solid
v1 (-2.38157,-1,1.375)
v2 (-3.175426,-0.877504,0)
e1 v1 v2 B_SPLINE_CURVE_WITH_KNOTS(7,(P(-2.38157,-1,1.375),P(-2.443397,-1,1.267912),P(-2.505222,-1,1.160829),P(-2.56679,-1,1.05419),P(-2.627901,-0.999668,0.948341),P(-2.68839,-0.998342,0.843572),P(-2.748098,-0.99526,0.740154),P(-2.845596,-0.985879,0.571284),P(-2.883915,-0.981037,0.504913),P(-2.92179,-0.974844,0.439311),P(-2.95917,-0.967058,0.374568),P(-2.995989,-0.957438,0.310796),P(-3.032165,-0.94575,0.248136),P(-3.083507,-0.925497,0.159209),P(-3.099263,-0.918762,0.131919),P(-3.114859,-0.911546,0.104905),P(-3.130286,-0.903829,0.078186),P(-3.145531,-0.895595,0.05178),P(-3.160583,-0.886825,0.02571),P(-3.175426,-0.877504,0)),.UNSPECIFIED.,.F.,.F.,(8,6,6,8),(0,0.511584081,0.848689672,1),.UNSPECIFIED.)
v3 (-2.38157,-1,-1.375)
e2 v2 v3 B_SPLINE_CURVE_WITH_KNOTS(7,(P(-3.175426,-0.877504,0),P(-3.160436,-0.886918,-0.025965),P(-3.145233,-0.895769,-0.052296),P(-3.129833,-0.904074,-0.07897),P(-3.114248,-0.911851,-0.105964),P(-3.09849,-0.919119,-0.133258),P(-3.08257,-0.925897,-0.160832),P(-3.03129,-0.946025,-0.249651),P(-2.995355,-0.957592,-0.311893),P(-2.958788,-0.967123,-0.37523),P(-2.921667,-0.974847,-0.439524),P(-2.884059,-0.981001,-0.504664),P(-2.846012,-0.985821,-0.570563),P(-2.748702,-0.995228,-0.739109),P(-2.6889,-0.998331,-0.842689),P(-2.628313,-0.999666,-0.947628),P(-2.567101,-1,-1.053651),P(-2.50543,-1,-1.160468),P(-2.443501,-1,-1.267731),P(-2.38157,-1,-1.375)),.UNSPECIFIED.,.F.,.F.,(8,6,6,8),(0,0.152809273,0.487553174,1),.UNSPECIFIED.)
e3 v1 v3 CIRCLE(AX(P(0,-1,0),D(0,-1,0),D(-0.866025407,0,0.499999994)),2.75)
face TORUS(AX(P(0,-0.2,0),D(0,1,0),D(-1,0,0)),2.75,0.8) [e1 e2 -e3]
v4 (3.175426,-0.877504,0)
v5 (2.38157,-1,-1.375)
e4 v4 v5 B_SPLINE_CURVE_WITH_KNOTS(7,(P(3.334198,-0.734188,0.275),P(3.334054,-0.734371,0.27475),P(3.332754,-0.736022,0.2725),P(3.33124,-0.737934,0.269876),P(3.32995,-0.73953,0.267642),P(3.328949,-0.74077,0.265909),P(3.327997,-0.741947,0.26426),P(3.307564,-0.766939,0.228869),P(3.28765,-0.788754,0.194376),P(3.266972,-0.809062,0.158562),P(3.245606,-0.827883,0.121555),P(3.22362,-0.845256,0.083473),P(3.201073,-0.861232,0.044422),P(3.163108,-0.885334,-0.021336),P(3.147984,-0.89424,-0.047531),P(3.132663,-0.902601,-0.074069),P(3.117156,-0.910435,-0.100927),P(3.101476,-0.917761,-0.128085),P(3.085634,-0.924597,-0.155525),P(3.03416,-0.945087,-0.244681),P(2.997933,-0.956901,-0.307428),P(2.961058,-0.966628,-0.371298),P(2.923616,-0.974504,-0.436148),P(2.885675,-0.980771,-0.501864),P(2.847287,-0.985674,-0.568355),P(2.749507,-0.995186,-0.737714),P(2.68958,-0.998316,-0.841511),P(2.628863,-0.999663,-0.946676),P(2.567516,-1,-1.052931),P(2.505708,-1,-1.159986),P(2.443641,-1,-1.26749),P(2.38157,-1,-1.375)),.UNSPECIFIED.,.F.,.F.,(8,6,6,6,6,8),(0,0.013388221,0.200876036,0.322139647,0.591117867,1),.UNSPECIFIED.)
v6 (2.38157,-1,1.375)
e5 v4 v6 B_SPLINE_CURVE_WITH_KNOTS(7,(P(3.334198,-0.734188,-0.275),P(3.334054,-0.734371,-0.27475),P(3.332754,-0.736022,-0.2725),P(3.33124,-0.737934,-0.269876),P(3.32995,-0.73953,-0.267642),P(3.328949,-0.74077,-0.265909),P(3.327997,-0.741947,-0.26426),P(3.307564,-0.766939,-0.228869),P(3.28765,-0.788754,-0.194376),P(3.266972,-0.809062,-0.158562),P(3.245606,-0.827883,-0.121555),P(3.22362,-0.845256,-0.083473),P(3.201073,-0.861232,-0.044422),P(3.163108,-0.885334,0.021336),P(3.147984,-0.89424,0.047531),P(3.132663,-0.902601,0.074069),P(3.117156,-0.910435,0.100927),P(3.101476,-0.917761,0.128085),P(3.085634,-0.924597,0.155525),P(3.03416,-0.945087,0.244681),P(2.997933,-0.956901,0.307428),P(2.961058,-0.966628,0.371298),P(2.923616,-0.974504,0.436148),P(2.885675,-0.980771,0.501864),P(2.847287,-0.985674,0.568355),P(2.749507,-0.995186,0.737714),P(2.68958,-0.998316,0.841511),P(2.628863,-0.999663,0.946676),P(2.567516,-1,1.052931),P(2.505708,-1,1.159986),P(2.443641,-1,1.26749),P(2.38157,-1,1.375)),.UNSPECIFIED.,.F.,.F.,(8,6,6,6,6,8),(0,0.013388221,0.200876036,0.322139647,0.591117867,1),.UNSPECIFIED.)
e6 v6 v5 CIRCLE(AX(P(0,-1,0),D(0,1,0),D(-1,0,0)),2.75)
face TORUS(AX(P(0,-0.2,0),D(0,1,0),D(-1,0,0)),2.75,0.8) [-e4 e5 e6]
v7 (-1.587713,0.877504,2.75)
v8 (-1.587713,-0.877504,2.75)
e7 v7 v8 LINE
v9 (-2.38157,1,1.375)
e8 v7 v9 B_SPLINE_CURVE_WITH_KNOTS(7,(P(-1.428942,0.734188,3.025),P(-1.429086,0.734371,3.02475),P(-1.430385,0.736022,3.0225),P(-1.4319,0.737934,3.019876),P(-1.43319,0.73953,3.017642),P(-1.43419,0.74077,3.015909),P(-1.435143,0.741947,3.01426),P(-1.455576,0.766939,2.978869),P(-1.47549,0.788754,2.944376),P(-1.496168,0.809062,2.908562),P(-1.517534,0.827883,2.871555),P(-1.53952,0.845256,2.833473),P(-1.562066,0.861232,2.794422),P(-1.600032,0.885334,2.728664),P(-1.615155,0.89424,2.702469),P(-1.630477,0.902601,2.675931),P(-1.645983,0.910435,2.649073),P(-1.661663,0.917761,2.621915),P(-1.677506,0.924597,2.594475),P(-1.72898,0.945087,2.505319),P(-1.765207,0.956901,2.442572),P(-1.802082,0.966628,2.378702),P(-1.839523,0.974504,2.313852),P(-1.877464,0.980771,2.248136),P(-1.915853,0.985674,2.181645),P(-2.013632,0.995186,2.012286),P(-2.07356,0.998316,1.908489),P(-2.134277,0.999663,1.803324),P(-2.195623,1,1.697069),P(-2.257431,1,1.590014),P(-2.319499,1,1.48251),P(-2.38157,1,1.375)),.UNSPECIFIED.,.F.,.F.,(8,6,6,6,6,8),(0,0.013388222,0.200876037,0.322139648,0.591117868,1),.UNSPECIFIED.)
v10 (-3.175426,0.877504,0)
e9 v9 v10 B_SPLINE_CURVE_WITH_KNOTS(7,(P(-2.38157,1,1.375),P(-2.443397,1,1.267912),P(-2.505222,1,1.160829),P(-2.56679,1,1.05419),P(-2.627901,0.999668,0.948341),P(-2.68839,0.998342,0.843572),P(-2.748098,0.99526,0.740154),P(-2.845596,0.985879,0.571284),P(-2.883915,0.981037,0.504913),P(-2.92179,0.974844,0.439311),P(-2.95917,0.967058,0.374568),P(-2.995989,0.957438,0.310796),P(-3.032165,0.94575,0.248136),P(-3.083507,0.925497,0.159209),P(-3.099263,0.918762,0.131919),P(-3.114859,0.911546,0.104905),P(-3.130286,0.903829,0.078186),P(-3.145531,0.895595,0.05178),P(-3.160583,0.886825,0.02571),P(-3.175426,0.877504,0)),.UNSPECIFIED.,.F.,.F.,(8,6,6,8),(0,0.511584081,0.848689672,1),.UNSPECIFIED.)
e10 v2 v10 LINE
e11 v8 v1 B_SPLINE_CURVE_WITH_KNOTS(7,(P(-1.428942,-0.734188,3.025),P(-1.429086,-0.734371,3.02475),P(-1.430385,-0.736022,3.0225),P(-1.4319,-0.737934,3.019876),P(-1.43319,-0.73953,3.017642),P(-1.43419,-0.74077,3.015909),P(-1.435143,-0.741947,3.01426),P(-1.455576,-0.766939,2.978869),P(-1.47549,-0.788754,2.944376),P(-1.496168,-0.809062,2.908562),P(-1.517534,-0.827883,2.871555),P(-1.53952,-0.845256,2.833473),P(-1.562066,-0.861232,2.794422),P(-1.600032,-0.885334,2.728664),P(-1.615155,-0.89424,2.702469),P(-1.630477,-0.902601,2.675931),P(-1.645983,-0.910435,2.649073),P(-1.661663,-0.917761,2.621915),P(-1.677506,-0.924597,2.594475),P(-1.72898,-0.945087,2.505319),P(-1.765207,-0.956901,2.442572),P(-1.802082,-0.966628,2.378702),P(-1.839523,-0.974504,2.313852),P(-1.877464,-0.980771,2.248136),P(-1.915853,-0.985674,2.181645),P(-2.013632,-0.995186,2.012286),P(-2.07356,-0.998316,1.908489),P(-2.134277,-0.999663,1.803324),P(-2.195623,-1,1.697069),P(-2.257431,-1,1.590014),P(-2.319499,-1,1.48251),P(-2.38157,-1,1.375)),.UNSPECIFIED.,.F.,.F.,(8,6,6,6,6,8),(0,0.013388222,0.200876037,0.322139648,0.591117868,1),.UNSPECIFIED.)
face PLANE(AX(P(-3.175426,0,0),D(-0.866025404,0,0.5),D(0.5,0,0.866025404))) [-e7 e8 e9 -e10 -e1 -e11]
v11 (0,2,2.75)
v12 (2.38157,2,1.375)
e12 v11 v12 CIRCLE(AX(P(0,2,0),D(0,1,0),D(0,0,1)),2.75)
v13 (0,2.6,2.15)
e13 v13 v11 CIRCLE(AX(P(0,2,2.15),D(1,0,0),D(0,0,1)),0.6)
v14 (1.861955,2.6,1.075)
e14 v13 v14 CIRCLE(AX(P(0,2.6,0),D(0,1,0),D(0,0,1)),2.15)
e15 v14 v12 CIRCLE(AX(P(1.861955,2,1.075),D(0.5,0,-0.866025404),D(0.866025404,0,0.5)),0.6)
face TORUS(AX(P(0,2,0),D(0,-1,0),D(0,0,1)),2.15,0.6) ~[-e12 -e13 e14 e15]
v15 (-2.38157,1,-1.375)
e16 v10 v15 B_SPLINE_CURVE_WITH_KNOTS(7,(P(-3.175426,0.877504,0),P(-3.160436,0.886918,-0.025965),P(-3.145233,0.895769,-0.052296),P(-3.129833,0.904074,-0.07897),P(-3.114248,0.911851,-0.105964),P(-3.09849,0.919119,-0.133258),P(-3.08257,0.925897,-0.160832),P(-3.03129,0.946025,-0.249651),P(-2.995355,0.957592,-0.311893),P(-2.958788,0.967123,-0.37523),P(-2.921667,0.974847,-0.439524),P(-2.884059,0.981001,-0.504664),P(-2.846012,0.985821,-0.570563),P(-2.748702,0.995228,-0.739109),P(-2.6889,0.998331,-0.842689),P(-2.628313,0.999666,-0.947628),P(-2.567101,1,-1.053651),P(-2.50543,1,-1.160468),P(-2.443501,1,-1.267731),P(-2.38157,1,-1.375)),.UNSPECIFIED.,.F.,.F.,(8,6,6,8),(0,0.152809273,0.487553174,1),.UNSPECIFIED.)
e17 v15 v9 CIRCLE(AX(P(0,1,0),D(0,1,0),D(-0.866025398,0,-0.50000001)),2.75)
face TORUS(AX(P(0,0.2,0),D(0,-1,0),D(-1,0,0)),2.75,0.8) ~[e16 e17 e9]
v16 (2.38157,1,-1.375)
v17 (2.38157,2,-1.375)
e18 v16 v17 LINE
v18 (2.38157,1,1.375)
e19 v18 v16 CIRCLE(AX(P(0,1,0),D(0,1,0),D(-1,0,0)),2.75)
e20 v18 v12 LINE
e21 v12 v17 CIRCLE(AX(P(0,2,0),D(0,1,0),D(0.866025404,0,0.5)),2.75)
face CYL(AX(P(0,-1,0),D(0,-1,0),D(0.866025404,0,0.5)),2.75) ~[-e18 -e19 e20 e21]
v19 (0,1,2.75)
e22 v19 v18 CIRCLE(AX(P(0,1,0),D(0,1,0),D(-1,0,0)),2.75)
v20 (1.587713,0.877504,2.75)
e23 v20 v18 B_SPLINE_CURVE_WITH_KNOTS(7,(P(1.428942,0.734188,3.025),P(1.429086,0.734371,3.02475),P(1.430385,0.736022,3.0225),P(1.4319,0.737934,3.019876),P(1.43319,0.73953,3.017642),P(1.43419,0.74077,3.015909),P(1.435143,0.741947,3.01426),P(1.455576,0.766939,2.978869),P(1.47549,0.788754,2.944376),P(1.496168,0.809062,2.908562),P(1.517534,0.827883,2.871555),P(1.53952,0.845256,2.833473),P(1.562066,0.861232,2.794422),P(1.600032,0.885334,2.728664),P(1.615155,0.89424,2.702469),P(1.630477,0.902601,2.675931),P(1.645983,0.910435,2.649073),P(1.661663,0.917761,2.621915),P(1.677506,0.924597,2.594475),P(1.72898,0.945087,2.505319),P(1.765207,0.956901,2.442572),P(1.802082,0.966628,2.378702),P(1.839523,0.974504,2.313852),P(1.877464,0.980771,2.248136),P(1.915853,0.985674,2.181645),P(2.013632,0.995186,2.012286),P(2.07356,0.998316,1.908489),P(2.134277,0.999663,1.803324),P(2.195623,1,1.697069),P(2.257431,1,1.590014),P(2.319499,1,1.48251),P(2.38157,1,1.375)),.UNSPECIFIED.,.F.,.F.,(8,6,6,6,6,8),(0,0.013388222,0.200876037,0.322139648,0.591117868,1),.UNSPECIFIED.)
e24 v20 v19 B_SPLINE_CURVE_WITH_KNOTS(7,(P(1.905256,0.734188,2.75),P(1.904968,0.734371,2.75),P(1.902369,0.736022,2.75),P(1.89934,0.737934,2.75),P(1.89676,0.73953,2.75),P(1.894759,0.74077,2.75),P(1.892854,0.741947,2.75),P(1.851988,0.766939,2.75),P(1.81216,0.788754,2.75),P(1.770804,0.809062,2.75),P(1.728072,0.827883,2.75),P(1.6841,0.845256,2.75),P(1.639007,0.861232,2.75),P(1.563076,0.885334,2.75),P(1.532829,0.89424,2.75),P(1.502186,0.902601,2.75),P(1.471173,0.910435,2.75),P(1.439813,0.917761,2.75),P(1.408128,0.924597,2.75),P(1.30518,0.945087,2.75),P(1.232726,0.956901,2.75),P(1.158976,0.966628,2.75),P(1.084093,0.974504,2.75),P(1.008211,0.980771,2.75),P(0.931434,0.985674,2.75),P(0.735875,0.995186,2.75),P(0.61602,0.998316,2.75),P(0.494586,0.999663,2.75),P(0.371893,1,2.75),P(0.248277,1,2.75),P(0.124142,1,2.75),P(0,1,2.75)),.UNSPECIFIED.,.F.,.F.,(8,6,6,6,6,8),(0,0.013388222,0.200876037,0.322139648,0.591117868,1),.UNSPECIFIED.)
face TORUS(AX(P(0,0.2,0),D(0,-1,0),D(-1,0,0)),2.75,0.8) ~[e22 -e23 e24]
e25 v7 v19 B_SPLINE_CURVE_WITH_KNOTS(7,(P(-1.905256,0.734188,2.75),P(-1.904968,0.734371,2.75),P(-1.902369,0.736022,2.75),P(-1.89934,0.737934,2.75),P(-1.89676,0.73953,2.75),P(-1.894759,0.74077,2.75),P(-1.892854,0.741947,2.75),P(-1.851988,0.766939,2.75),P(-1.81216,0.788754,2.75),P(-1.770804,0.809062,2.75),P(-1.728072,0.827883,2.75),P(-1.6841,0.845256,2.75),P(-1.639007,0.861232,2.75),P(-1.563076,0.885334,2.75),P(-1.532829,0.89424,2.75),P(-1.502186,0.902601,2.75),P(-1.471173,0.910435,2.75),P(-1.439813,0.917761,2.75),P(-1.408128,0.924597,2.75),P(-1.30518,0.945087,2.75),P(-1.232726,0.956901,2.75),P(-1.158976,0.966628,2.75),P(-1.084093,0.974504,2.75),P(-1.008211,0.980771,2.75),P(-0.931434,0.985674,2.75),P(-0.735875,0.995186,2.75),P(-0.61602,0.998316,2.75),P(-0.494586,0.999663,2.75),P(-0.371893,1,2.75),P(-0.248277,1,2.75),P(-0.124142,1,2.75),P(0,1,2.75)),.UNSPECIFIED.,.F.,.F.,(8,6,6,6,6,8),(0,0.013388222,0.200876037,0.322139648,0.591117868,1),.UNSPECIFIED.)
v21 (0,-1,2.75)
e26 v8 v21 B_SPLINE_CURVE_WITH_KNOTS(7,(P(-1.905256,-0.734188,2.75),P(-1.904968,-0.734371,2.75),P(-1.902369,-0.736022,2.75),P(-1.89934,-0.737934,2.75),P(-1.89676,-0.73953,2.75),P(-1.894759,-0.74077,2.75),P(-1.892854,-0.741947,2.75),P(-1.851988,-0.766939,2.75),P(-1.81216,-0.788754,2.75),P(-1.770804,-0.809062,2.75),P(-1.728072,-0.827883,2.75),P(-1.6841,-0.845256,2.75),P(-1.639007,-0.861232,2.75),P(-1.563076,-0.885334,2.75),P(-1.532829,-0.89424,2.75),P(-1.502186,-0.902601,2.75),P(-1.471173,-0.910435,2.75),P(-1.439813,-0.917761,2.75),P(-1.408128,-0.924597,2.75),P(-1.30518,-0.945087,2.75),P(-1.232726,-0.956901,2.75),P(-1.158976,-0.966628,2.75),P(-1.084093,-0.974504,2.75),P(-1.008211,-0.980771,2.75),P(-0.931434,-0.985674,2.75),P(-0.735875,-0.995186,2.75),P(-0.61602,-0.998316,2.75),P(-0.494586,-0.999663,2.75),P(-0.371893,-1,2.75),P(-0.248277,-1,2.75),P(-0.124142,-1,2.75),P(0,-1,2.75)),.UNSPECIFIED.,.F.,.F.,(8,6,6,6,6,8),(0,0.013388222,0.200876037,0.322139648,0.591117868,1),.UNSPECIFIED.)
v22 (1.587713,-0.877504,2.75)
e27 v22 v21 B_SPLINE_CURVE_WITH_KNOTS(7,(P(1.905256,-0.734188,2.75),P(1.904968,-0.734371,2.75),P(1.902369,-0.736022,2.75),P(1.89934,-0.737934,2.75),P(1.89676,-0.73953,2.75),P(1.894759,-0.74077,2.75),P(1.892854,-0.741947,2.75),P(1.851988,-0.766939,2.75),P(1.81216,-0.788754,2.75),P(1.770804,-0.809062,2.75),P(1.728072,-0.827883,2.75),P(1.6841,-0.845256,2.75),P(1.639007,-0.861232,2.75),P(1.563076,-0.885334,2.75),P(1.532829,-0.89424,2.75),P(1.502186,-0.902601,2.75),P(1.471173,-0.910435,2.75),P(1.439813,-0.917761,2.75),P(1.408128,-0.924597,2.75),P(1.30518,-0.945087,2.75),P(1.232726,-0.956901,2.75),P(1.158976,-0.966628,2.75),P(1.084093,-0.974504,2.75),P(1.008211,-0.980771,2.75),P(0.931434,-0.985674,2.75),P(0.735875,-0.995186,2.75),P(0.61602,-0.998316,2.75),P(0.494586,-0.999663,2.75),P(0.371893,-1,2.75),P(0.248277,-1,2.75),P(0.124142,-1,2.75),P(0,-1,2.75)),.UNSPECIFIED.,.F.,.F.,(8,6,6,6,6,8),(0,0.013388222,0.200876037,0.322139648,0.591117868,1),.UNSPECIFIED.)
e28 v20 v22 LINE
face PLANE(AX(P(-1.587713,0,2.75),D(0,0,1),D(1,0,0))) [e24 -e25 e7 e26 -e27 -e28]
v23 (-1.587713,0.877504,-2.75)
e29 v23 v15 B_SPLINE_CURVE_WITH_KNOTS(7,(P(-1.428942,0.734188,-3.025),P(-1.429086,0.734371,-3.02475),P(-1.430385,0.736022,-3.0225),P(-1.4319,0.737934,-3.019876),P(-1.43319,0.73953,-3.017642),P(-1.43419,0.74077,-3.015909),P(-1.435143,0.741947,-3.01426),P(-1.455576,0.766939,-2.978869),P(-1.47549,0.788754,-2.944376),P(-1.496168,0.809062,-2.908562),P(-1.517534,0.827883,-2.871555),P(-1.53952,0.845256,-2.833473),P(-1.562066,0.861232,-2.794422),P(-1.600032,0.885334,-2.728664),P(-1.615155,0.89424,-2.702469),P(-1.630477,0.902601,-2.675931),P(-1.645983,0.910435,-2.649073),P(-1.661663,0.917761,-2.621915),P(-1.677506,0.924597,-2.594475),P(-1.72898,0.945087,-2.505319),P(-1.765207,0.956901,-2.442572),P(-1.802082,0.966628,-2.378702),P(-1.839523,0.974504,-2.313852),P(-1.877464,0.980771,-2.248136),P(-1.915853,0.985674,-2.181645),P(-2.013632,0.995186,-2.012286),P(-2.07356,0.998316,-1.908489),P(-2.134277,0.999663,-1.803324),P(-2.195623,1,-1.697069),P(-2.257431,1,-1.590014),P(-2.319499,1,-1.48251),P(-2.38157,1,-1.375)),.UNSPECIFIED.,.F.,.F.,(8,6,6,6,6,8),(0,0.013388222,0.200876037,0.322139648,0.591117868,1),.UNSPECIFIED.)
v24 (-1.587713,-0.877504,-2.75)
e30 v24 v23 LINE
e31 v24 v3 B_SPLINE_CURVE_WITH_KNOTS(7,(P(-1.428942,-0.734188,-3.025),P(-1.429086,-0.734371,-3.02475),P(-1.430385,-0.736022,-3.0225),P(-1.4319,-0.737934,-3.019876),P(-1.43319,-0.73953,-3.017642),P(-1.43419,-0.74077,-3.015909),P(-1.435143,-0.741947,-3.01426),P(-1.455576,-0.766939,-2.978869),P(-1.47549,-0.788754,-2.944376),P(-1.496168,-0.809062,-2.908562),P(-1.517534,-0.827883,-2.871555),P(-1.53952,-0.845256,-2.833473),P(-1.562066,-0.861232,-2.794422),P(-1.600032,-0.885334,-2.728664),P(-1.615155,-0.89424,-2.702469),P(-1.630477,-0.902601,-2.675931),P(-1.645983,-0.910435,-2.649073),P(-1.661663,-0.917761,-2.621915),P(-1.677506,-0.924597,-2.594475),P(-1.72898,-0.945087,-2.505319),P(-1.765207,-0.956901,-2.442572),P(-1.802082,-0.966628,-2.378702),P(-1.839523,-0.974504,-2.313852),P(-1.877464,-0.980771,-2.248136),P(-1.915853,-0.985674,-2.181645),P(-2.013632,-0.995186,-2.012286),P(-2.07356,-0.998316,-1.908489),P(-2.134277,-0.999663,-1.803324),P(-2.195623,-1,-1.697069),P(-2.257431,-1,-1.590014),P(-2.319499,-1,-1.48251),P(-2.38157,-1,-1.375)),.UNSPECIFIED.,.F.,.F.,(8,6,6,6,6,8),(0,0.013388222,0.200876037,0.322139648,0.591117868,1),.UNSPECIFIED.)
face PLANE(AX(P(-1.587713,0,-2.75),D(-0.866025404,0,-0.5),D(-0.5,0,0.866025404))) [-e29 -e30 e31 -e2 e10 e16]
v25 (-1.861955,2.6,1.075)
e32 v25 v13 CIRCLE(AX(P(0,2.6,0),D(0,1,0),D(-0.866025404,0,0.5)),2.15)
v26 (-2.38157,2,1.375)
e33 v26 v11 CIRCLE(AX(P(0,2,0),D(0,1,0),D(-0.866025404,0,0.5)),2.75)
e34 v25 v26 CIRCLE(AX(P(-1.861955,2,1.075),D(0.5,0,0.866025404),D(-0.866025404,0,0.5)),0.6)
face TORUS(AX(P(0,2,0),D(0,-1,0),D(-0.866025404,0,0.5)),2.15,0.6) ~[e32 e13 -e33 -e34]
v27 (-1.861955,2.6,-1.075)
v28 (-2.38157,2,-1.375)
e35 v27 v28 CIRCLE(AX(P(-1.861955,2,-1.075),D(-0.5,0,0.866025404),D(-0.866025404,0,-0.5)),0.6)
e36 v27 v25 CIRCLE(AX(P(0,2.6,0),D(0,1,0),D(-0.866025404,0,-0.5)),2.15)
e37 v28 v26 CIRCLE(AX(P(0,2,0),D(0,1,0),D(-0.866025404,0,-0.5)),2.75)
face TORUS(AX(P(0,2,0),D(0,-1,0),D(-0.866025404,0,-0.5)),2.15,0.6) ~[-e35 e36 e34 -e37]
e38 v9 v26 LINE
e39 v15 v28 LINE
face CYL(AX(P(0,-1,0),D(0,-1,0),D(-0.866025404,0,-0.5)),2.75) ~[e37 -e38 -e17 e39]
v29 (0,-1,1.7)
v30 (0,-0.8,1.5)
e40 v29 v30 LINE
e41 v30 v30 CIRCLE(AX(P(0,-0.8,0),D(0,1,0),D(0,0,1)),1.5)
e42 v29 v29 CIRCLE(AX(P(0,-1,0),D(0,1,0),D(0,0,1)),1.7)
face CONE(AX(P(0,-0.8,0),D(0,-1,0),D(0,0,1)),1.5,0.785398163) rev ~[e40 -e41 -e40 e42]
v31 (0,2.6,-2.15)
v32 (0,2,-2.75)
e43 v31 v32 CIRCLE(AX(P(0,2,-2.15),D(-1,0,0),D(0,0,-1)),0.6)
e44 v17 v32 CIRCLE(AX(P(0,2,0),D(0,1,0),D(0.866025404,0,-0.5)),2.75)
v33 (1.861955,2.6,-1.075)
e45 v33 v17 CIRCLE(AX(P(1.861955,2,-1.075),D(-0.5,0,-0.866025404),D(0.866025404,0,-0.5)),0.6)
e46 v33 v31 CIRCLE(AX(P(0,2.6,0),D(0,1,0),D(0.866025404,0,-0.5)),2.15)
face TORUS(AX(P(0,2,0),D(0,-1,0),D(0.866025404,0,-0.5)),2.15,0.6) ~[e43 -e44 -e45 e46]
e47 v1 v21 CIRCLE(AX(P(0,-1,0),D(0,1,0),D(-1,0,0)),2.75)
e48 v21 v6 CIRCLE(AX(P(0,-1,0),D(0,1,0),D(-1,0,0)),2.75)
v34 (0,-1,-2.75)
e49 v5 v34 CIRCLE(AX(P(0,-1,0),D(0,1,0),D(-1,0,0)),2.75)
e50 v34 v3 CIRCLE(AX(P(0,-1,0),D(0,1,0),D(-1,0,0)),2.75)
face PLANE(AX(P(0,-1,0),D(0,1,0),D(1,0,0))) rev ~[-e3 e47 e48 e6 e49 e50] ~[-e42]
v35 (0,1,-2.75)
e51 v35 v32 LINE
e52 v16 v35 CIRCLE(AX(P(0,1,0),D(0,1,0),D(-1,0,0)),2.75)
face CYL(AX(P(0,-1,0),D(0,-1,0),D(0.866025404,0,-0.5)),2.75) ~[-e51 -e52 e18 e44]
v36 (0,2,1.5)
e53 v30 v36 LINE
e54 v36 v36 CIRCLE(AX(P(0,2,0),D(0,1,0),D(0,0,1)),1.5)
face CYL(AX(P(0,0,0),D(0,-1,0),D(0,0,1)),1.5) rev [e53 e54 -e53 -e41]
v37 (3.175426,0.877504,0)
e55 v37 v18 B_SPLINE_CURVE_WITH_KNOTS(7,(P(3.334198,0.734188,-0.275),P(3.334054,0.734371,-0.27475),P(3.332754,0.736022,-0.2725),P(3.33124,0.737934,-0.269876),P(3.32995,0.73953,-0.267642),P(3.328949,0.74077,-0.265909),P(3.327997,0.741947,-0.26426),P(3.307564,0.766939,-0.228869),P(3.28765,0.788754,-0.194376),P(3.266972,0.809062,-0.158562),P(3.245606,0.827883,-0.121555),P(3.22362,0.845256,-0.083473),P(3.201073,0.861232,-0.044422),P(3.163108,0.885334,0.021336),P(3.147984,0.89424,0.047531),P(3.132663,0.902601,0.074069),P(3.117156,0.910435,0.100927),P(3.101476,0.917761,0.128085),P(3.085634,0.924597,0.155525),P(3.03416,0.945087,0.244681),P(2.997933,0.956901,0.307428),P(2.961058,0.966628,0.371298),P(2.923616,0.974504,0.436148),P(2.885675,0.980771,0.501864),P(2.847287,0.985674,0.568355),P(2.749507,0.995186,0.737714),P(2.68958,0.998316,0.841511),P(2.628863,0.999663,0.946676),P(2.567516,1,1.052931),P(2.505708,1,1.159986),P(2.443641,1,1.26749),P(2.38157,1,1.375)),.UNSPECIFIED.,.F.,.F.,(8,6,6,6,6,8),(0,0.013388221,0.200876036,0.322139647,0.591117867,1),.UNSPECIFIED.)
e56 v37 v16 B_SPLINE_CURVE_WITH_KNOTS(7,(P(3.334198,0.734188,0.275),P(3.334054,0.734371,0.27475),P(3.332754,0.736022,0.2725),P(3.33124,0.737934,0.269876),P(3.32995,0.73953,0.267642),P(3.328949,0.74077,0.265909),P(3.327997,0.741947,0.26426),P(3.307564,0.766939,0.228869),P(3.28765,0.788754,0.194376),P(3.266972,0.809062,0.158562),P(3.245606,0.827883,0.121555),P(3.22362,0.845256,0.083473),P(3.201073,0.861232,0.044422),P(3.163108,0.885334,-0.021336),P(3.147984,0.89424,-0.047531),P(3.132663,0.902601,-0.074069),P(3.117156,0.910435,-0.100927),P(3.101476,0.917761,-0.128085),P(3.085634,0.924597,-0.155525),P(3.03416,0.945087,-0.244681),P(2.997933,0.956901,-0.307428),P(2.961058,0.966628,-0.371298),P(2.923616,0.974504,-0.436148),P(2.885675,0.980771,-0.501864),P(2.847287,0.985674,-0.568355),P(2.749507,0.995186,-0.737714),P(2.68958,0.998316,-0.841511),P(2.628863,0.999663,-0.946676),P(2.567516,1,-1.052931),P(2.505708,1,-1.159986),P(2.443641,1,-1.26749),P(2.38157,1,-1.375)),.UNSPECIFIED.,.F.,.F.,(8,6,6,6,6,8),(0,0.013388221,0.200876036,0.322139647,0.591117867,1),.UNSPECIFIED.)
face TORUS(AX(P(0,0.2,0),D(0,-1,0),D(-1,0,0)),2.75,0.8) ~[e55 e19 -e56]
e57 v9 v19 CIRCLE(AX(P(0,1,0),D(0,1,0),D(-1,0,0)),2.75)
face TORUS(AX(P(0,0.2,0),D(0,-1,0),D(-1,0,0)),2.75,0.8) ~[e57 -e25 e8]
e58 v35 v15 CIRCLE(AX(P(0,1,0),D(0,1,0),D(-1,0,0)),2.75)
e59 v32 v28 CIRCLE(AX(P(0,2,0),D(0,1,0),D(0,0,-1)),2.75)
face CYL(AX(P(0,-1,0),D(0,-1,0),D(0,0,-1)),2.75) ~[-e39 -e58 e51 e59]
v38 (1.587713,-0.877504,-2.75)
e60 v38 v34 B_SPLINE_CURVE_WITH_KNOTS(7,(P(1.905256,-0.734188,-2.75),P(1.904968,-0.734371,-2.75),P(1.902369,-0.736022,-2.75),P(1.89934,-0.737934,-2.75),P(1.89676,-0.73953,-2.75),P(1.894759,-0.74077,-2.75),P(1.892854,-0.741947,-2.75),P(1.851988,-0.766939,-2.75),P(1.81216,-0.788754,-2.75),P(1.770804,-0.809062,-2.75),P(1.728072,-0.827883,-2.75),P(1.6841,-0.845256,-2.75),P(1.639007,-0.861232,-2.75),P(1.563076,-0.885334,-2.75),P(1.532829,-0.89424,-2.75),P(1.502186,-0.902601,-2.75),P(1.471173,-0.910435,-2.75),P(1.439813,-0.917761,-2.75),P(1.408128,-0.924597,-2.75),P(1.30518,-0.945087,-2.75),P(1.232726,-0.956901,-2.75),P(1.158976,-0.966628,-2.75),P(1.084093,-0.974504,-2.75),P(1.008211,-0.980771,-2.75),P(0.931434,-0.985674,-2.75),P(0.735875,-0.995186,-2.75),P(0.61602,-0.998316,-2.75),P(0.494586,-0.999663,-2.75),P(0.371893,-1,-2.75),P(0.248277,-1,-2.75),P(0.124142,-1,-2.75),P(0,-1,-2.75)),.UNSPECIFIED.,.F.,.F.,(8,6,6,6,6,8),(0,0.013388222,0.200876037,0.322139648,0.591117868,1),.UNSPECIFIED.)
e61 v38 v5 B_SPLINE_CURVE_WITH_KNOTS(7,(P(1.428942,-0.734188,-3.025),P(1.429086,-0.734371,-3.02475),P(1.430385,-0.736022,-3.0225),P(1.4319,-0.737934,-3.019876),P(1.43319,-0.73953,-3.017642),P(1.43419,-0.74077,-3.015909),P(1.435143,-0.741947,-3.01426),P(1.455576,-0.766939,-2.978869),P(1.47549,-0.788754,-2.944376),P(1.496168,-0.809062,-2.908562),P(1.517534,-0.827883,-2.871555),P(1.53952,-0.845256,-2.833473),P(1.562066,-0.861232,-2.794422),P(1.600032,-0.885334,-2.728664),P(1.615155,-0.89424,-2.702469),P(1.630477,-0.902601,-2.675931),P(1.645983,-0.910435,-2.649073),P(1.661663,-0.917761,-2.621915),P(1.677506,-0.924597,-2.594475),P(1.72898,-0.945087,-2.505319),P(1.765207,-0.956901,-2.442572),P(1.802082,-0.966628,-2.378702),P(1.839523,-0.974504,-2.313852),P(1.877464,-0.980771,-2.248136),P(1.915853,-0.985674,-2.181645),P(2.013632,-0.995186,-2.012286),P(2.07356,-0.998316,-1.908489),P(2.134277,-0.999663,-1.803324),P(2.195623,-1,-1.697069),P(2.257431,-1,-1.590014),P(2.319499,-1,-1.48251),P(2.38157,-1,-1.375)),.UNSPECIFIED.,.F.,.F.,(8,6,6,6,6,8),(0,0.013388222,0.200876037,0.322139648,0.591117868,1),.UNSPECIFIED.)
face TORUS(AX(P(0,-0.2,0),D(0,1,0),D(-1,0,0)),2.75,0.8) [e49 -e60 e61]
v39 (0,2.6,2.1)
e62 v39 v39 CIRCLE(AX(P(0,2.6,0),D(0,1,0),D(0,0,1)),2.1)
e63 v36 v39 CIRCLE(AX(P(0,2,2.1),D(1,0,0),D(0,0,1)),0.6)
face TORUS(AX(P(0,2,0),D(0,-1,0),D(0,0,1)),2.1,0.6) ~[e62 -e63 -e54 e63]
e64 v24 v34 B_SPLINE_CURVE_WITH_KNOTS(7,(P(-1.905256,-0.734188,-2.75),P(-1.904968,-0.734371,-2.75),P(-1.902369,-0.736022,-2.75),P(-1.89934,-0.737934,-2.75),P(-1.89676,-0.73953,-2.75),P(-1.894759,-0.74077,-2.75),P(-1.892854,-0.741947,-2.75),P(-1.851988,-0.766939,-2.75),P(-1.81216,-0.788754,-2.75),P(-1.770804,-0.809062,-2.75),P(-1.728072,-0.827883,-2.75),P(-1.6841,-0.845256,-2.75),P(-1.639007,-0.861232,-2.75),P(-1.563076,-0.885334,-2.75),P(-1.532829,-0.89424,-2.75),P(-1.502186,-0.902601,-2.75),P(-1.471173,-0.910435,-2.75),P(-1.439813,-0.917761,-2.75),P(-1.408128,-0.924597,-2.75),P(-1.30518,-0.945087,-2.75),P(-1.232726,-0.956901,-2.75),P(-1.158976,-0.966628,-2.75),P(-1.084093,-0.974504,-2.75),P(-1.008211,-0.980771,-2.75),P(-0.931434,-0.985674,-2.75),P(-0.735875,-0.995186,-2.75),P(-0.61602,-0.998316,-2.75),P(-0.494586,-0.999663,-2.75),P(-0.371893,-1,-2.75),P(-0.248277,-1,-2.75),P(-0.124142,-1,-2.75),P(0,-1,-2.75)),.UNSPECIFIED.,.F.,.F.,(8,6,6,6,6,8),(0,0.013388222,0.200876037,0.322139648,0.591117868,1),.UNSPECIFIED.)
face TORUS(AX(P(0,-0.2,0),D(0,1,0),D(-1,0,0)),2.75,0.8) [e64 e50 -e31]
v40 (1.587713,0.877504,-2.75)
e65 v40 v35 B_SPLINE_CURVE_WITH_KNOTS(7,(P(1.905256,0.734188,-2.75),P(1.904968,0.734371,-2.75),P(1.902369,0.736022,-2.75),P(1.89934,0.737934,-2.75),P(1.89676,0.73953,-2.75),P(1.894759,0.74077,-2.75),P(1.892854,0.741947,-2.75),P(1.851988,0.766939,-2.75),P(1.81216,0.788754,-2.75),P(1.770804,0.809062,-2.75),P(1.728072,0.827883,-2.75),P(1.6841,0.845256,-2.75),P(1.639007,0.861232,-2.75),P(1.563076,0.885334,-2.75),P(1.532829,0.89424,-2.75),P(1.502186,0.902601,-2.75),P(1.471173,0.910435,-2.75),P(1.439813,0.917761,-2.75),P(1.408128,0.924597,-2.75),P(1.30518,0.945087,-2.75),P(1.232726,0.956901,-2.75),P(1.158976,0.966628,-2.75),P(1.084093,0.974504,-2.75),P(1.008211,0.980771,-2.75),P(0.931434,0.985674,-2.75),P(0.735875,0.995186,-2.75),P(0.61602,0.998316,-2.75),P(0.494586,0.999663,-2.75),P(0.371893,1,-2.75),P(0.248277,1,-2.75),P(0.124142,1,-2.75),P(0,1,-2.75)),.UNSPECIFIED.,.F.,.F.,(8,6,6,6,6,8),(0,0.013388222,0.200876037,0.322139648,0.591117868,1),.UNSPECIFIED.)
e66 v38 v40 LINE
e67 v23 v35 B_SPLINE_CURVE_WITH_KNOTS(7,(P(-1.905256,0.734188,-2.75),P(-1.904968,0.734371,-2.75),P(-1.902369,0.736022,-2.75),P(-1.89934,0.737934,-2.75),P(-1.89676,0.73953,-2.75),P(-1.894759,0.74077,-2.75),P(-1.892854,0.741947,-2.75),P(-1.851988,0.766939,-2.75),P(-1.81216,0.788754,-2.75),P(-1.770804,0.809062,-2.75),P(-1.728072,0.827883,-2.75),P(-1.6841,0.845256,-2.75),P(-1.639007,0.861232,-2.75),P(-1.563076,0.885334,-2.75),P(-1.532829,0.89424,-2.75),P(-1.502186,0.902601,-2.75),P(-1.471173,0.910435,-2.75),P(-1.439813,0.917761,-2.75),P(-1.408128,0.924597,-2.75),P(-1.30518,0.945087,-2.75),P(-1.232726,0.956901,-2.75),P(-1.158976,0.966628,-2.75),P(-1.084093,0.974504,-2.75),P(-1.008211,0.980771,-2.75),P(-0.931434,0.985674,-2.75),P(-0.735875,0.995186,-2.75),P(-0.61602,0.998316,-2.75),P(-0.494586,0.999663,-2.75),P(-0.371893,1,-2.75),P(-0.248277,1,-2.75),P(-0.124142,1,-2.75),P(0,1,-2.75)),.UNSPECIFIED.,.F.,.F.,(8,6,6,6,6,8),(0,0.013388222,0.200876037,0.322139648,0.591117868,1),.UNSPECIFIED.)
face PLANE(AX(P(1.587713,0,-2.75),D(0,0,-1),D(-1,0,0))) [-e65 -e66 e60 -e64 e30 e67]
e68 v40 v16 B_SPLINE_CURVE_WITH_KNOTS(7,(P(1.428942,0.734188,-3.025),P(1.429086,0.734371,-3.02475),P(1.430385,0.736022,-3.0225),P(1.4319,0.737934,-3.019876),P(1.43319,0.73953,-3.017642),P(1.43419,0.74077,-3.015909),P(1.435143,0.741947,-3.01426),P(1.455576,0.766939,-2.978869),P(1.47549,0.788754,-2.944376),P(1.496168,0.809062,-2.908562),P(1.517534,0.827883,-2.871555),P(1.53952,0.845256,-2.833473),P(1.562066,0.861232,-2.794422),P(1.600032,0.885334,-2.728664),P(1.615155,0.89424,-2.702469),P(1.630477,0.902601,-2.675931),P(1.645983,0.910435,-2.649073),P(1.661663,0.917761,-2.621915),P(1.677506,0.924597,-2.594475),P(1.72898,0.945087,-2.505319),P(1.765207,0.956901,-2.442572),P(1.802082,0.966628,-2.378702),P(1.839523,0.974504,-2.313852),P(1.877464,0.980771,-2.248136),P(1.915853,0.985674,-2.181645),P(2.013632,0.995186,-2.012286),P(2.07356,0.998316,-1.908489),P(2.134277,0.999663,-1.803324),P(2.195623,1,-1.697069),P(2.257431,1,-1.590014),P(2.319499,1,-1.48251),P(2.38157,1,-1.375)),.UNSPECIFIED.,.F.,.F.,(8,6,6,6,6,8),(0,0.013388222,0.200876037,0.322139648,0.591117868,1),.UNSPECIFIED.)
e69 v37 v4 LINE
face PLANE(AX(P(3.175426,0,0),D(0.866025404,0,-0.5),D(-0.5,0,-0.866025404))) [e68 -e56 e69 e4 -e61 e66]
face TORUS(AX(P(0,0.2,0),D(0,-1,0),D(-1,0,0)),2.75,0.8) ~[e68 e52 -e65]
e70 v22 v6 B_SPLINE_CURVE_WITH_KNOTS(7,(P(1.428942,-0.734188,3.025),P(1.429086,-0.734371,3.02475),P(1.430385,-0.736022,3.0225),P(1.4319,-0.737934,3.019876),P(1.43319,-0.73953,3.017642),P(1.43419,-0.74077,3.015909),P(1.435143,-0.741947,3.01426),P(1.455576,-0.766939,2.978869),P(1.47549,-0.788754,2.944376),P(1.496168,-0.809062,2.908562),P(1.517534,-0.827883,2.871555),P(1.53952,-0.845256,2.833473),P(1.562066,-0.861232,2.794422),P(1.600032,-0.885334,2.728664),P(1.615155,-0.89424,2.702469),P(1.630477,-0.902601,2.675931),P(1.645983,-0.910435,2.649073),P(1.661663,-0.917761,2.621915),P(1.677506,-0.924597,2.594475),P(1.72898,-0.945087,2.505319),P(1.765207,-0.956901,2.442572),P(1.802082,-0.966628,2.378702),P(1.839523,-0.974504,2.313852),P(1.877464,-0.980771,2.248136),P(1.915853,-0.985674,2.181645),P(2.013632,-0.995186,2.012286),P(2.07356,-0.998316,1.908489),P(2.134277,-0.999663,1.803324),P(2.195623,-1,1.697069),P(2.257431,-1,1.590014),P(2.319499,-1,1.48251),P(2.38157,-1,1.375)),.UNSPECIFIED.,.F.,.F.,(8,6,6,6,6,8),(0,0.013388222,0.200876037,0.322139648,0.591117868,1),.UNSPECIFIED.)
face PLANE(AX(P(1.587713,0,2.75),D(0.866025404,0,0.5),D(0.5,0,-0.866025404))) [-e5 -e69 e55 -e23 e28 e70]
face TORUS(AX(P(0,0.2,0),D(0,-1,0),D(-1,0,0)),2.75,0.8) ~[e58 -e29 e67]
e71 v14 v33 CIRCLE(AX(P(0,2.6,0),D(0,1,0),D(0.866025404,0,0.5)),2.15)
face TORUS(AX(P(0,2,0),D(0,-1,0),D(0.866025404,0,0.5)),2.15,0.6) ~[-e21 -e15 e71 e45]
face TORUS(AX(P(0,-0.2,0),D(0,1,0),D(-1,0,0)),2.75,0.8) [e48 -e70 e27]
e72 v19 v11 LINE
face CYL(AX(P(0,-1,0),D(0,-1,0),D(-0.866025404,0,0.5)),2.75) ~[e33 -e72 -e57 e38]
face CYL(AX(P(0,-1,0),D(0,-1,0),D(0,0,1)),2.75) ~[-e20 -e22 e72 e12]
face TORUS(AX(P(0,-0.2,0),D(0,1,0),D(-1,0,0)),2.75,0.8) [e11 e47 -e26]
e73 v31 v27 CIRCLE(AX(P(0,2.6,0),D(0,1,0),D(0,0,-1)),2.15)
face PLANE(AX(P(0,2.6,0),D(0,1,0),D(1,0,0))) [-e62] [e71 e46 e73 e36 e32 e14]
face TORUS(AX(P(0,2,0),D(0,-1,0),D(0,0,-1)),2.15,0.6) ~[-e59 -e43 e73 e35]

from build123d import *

# Parameters (mm, degrees)
SKETCH1_R           = 1.5
BOSS_EXTRUDE1_DEPTH = 1
BOSS_EXTRUDE2_START = -2
SKETCH3_R           = 1.5
BOSS_EXTRUDE2_DEPTH = 3.6
CHAMFER1_SIZE       = 0.2
FILLET1_R           = 0.6


with BuildPart() as part:
    # Sketch1 → Boss-Extrude1 (new, symmetric)
    with BuildSketch(Plane(origin=(0, 0, 0), x_dir=(1, 0, 0), z_dir=(0, 1, 0))):
        Polygon((3.175426481, 0), (1.58771324, 2.75), (-1.58771324, 2.75), (-3.175426481, 0), (-1.58771324, -2.75), (1.58771324, -2.75), align=None)
        with Locations(Location((0, 0, 0), (0, 0, 270))):
            Circle(SKETCH1_R, mode=Mode.SUBTRACT)
    extrude(amount=BOSS_EXTRUDE1_DEPTH, both=True)

    # Sketch2 → Cut-Revolve1 (revolve, cut)
    with BuildSketch(Plane.XY):
        with BuildLine():
            Line((-3.55, -0.2), (-3.55, -1))
            Line((-3.55, -1), (-2.75, -1))
            ThreePointArc((-2.75, -1), (-3.315685425, -0.765685425), (-3.55, -0.2))
        make_face()
    cut_revolve1 = revolve(axis=Axis((0, 0, 0), (0, 1, 0)), mode=Mode.SUBTRACT)

    # Mirror2: Cut-Revolve1 across plane
    add(cut_revolve1.mirror(Plane.ZX), mode=Mode.SUBTRACT)

    # Sketch3 → Boss-Extrude2 (add)
    with BuildSketch(Plane(origin=(0, 1, 0), x_dir=(1, 0, 0), z_dir=(0, 1, 0)).offset(BOSS_EXTRUDE2_START)):
        with BuildLine():
            ThreePointArc((-2.38156986, -1.375), (-1.375, -2.38156986), (0, -2.75))
            ThreePointArc((0, -2.75), (1.375, -2.38156986), (2.38156986, -1.375))
            ThreePointArc((2.38156986, -1.375), (2.75, 0), (2.38156986, 1.375))
            ThreePointArc((2.38156986, 1.375), (1.375, 2.38156986), (0, 2.75))
            ThreePointArc((0, 2.75), (-1.375, 2.38156986), (-2.38156986, 1.375))
            ThreePointArc((-2.38156986, 1.375), (-2.75, 0), (-2.38156986, -1.375))
        make_face()
        with Locations(Location((0, 0, 0), (0, 0, 270))):
            Circle(SKETCH3_R, mode=Mode.SUBTRACT)
    extrude(amount=BOSS_EXTRUDE2_DEPTH)

    # Chamfer1
    chamfer1_edges = [part.edges().sort_by_distance(p)[0] for p in [
        (0, -1, -1.5),
    ]]
    chamfer(chamfer1_edges, length=CHAMFER1_SIZE)

    # Fillet1
    fillet1_edges = [part.edges().sort_by_distance(p)[0] for p in [
        (0, 2.6, 2.75),
        (0, 2.6, -1.5),
    ]]
    fillet(fillet1_edges, radius=FILLET1_R)


solid = part.part
